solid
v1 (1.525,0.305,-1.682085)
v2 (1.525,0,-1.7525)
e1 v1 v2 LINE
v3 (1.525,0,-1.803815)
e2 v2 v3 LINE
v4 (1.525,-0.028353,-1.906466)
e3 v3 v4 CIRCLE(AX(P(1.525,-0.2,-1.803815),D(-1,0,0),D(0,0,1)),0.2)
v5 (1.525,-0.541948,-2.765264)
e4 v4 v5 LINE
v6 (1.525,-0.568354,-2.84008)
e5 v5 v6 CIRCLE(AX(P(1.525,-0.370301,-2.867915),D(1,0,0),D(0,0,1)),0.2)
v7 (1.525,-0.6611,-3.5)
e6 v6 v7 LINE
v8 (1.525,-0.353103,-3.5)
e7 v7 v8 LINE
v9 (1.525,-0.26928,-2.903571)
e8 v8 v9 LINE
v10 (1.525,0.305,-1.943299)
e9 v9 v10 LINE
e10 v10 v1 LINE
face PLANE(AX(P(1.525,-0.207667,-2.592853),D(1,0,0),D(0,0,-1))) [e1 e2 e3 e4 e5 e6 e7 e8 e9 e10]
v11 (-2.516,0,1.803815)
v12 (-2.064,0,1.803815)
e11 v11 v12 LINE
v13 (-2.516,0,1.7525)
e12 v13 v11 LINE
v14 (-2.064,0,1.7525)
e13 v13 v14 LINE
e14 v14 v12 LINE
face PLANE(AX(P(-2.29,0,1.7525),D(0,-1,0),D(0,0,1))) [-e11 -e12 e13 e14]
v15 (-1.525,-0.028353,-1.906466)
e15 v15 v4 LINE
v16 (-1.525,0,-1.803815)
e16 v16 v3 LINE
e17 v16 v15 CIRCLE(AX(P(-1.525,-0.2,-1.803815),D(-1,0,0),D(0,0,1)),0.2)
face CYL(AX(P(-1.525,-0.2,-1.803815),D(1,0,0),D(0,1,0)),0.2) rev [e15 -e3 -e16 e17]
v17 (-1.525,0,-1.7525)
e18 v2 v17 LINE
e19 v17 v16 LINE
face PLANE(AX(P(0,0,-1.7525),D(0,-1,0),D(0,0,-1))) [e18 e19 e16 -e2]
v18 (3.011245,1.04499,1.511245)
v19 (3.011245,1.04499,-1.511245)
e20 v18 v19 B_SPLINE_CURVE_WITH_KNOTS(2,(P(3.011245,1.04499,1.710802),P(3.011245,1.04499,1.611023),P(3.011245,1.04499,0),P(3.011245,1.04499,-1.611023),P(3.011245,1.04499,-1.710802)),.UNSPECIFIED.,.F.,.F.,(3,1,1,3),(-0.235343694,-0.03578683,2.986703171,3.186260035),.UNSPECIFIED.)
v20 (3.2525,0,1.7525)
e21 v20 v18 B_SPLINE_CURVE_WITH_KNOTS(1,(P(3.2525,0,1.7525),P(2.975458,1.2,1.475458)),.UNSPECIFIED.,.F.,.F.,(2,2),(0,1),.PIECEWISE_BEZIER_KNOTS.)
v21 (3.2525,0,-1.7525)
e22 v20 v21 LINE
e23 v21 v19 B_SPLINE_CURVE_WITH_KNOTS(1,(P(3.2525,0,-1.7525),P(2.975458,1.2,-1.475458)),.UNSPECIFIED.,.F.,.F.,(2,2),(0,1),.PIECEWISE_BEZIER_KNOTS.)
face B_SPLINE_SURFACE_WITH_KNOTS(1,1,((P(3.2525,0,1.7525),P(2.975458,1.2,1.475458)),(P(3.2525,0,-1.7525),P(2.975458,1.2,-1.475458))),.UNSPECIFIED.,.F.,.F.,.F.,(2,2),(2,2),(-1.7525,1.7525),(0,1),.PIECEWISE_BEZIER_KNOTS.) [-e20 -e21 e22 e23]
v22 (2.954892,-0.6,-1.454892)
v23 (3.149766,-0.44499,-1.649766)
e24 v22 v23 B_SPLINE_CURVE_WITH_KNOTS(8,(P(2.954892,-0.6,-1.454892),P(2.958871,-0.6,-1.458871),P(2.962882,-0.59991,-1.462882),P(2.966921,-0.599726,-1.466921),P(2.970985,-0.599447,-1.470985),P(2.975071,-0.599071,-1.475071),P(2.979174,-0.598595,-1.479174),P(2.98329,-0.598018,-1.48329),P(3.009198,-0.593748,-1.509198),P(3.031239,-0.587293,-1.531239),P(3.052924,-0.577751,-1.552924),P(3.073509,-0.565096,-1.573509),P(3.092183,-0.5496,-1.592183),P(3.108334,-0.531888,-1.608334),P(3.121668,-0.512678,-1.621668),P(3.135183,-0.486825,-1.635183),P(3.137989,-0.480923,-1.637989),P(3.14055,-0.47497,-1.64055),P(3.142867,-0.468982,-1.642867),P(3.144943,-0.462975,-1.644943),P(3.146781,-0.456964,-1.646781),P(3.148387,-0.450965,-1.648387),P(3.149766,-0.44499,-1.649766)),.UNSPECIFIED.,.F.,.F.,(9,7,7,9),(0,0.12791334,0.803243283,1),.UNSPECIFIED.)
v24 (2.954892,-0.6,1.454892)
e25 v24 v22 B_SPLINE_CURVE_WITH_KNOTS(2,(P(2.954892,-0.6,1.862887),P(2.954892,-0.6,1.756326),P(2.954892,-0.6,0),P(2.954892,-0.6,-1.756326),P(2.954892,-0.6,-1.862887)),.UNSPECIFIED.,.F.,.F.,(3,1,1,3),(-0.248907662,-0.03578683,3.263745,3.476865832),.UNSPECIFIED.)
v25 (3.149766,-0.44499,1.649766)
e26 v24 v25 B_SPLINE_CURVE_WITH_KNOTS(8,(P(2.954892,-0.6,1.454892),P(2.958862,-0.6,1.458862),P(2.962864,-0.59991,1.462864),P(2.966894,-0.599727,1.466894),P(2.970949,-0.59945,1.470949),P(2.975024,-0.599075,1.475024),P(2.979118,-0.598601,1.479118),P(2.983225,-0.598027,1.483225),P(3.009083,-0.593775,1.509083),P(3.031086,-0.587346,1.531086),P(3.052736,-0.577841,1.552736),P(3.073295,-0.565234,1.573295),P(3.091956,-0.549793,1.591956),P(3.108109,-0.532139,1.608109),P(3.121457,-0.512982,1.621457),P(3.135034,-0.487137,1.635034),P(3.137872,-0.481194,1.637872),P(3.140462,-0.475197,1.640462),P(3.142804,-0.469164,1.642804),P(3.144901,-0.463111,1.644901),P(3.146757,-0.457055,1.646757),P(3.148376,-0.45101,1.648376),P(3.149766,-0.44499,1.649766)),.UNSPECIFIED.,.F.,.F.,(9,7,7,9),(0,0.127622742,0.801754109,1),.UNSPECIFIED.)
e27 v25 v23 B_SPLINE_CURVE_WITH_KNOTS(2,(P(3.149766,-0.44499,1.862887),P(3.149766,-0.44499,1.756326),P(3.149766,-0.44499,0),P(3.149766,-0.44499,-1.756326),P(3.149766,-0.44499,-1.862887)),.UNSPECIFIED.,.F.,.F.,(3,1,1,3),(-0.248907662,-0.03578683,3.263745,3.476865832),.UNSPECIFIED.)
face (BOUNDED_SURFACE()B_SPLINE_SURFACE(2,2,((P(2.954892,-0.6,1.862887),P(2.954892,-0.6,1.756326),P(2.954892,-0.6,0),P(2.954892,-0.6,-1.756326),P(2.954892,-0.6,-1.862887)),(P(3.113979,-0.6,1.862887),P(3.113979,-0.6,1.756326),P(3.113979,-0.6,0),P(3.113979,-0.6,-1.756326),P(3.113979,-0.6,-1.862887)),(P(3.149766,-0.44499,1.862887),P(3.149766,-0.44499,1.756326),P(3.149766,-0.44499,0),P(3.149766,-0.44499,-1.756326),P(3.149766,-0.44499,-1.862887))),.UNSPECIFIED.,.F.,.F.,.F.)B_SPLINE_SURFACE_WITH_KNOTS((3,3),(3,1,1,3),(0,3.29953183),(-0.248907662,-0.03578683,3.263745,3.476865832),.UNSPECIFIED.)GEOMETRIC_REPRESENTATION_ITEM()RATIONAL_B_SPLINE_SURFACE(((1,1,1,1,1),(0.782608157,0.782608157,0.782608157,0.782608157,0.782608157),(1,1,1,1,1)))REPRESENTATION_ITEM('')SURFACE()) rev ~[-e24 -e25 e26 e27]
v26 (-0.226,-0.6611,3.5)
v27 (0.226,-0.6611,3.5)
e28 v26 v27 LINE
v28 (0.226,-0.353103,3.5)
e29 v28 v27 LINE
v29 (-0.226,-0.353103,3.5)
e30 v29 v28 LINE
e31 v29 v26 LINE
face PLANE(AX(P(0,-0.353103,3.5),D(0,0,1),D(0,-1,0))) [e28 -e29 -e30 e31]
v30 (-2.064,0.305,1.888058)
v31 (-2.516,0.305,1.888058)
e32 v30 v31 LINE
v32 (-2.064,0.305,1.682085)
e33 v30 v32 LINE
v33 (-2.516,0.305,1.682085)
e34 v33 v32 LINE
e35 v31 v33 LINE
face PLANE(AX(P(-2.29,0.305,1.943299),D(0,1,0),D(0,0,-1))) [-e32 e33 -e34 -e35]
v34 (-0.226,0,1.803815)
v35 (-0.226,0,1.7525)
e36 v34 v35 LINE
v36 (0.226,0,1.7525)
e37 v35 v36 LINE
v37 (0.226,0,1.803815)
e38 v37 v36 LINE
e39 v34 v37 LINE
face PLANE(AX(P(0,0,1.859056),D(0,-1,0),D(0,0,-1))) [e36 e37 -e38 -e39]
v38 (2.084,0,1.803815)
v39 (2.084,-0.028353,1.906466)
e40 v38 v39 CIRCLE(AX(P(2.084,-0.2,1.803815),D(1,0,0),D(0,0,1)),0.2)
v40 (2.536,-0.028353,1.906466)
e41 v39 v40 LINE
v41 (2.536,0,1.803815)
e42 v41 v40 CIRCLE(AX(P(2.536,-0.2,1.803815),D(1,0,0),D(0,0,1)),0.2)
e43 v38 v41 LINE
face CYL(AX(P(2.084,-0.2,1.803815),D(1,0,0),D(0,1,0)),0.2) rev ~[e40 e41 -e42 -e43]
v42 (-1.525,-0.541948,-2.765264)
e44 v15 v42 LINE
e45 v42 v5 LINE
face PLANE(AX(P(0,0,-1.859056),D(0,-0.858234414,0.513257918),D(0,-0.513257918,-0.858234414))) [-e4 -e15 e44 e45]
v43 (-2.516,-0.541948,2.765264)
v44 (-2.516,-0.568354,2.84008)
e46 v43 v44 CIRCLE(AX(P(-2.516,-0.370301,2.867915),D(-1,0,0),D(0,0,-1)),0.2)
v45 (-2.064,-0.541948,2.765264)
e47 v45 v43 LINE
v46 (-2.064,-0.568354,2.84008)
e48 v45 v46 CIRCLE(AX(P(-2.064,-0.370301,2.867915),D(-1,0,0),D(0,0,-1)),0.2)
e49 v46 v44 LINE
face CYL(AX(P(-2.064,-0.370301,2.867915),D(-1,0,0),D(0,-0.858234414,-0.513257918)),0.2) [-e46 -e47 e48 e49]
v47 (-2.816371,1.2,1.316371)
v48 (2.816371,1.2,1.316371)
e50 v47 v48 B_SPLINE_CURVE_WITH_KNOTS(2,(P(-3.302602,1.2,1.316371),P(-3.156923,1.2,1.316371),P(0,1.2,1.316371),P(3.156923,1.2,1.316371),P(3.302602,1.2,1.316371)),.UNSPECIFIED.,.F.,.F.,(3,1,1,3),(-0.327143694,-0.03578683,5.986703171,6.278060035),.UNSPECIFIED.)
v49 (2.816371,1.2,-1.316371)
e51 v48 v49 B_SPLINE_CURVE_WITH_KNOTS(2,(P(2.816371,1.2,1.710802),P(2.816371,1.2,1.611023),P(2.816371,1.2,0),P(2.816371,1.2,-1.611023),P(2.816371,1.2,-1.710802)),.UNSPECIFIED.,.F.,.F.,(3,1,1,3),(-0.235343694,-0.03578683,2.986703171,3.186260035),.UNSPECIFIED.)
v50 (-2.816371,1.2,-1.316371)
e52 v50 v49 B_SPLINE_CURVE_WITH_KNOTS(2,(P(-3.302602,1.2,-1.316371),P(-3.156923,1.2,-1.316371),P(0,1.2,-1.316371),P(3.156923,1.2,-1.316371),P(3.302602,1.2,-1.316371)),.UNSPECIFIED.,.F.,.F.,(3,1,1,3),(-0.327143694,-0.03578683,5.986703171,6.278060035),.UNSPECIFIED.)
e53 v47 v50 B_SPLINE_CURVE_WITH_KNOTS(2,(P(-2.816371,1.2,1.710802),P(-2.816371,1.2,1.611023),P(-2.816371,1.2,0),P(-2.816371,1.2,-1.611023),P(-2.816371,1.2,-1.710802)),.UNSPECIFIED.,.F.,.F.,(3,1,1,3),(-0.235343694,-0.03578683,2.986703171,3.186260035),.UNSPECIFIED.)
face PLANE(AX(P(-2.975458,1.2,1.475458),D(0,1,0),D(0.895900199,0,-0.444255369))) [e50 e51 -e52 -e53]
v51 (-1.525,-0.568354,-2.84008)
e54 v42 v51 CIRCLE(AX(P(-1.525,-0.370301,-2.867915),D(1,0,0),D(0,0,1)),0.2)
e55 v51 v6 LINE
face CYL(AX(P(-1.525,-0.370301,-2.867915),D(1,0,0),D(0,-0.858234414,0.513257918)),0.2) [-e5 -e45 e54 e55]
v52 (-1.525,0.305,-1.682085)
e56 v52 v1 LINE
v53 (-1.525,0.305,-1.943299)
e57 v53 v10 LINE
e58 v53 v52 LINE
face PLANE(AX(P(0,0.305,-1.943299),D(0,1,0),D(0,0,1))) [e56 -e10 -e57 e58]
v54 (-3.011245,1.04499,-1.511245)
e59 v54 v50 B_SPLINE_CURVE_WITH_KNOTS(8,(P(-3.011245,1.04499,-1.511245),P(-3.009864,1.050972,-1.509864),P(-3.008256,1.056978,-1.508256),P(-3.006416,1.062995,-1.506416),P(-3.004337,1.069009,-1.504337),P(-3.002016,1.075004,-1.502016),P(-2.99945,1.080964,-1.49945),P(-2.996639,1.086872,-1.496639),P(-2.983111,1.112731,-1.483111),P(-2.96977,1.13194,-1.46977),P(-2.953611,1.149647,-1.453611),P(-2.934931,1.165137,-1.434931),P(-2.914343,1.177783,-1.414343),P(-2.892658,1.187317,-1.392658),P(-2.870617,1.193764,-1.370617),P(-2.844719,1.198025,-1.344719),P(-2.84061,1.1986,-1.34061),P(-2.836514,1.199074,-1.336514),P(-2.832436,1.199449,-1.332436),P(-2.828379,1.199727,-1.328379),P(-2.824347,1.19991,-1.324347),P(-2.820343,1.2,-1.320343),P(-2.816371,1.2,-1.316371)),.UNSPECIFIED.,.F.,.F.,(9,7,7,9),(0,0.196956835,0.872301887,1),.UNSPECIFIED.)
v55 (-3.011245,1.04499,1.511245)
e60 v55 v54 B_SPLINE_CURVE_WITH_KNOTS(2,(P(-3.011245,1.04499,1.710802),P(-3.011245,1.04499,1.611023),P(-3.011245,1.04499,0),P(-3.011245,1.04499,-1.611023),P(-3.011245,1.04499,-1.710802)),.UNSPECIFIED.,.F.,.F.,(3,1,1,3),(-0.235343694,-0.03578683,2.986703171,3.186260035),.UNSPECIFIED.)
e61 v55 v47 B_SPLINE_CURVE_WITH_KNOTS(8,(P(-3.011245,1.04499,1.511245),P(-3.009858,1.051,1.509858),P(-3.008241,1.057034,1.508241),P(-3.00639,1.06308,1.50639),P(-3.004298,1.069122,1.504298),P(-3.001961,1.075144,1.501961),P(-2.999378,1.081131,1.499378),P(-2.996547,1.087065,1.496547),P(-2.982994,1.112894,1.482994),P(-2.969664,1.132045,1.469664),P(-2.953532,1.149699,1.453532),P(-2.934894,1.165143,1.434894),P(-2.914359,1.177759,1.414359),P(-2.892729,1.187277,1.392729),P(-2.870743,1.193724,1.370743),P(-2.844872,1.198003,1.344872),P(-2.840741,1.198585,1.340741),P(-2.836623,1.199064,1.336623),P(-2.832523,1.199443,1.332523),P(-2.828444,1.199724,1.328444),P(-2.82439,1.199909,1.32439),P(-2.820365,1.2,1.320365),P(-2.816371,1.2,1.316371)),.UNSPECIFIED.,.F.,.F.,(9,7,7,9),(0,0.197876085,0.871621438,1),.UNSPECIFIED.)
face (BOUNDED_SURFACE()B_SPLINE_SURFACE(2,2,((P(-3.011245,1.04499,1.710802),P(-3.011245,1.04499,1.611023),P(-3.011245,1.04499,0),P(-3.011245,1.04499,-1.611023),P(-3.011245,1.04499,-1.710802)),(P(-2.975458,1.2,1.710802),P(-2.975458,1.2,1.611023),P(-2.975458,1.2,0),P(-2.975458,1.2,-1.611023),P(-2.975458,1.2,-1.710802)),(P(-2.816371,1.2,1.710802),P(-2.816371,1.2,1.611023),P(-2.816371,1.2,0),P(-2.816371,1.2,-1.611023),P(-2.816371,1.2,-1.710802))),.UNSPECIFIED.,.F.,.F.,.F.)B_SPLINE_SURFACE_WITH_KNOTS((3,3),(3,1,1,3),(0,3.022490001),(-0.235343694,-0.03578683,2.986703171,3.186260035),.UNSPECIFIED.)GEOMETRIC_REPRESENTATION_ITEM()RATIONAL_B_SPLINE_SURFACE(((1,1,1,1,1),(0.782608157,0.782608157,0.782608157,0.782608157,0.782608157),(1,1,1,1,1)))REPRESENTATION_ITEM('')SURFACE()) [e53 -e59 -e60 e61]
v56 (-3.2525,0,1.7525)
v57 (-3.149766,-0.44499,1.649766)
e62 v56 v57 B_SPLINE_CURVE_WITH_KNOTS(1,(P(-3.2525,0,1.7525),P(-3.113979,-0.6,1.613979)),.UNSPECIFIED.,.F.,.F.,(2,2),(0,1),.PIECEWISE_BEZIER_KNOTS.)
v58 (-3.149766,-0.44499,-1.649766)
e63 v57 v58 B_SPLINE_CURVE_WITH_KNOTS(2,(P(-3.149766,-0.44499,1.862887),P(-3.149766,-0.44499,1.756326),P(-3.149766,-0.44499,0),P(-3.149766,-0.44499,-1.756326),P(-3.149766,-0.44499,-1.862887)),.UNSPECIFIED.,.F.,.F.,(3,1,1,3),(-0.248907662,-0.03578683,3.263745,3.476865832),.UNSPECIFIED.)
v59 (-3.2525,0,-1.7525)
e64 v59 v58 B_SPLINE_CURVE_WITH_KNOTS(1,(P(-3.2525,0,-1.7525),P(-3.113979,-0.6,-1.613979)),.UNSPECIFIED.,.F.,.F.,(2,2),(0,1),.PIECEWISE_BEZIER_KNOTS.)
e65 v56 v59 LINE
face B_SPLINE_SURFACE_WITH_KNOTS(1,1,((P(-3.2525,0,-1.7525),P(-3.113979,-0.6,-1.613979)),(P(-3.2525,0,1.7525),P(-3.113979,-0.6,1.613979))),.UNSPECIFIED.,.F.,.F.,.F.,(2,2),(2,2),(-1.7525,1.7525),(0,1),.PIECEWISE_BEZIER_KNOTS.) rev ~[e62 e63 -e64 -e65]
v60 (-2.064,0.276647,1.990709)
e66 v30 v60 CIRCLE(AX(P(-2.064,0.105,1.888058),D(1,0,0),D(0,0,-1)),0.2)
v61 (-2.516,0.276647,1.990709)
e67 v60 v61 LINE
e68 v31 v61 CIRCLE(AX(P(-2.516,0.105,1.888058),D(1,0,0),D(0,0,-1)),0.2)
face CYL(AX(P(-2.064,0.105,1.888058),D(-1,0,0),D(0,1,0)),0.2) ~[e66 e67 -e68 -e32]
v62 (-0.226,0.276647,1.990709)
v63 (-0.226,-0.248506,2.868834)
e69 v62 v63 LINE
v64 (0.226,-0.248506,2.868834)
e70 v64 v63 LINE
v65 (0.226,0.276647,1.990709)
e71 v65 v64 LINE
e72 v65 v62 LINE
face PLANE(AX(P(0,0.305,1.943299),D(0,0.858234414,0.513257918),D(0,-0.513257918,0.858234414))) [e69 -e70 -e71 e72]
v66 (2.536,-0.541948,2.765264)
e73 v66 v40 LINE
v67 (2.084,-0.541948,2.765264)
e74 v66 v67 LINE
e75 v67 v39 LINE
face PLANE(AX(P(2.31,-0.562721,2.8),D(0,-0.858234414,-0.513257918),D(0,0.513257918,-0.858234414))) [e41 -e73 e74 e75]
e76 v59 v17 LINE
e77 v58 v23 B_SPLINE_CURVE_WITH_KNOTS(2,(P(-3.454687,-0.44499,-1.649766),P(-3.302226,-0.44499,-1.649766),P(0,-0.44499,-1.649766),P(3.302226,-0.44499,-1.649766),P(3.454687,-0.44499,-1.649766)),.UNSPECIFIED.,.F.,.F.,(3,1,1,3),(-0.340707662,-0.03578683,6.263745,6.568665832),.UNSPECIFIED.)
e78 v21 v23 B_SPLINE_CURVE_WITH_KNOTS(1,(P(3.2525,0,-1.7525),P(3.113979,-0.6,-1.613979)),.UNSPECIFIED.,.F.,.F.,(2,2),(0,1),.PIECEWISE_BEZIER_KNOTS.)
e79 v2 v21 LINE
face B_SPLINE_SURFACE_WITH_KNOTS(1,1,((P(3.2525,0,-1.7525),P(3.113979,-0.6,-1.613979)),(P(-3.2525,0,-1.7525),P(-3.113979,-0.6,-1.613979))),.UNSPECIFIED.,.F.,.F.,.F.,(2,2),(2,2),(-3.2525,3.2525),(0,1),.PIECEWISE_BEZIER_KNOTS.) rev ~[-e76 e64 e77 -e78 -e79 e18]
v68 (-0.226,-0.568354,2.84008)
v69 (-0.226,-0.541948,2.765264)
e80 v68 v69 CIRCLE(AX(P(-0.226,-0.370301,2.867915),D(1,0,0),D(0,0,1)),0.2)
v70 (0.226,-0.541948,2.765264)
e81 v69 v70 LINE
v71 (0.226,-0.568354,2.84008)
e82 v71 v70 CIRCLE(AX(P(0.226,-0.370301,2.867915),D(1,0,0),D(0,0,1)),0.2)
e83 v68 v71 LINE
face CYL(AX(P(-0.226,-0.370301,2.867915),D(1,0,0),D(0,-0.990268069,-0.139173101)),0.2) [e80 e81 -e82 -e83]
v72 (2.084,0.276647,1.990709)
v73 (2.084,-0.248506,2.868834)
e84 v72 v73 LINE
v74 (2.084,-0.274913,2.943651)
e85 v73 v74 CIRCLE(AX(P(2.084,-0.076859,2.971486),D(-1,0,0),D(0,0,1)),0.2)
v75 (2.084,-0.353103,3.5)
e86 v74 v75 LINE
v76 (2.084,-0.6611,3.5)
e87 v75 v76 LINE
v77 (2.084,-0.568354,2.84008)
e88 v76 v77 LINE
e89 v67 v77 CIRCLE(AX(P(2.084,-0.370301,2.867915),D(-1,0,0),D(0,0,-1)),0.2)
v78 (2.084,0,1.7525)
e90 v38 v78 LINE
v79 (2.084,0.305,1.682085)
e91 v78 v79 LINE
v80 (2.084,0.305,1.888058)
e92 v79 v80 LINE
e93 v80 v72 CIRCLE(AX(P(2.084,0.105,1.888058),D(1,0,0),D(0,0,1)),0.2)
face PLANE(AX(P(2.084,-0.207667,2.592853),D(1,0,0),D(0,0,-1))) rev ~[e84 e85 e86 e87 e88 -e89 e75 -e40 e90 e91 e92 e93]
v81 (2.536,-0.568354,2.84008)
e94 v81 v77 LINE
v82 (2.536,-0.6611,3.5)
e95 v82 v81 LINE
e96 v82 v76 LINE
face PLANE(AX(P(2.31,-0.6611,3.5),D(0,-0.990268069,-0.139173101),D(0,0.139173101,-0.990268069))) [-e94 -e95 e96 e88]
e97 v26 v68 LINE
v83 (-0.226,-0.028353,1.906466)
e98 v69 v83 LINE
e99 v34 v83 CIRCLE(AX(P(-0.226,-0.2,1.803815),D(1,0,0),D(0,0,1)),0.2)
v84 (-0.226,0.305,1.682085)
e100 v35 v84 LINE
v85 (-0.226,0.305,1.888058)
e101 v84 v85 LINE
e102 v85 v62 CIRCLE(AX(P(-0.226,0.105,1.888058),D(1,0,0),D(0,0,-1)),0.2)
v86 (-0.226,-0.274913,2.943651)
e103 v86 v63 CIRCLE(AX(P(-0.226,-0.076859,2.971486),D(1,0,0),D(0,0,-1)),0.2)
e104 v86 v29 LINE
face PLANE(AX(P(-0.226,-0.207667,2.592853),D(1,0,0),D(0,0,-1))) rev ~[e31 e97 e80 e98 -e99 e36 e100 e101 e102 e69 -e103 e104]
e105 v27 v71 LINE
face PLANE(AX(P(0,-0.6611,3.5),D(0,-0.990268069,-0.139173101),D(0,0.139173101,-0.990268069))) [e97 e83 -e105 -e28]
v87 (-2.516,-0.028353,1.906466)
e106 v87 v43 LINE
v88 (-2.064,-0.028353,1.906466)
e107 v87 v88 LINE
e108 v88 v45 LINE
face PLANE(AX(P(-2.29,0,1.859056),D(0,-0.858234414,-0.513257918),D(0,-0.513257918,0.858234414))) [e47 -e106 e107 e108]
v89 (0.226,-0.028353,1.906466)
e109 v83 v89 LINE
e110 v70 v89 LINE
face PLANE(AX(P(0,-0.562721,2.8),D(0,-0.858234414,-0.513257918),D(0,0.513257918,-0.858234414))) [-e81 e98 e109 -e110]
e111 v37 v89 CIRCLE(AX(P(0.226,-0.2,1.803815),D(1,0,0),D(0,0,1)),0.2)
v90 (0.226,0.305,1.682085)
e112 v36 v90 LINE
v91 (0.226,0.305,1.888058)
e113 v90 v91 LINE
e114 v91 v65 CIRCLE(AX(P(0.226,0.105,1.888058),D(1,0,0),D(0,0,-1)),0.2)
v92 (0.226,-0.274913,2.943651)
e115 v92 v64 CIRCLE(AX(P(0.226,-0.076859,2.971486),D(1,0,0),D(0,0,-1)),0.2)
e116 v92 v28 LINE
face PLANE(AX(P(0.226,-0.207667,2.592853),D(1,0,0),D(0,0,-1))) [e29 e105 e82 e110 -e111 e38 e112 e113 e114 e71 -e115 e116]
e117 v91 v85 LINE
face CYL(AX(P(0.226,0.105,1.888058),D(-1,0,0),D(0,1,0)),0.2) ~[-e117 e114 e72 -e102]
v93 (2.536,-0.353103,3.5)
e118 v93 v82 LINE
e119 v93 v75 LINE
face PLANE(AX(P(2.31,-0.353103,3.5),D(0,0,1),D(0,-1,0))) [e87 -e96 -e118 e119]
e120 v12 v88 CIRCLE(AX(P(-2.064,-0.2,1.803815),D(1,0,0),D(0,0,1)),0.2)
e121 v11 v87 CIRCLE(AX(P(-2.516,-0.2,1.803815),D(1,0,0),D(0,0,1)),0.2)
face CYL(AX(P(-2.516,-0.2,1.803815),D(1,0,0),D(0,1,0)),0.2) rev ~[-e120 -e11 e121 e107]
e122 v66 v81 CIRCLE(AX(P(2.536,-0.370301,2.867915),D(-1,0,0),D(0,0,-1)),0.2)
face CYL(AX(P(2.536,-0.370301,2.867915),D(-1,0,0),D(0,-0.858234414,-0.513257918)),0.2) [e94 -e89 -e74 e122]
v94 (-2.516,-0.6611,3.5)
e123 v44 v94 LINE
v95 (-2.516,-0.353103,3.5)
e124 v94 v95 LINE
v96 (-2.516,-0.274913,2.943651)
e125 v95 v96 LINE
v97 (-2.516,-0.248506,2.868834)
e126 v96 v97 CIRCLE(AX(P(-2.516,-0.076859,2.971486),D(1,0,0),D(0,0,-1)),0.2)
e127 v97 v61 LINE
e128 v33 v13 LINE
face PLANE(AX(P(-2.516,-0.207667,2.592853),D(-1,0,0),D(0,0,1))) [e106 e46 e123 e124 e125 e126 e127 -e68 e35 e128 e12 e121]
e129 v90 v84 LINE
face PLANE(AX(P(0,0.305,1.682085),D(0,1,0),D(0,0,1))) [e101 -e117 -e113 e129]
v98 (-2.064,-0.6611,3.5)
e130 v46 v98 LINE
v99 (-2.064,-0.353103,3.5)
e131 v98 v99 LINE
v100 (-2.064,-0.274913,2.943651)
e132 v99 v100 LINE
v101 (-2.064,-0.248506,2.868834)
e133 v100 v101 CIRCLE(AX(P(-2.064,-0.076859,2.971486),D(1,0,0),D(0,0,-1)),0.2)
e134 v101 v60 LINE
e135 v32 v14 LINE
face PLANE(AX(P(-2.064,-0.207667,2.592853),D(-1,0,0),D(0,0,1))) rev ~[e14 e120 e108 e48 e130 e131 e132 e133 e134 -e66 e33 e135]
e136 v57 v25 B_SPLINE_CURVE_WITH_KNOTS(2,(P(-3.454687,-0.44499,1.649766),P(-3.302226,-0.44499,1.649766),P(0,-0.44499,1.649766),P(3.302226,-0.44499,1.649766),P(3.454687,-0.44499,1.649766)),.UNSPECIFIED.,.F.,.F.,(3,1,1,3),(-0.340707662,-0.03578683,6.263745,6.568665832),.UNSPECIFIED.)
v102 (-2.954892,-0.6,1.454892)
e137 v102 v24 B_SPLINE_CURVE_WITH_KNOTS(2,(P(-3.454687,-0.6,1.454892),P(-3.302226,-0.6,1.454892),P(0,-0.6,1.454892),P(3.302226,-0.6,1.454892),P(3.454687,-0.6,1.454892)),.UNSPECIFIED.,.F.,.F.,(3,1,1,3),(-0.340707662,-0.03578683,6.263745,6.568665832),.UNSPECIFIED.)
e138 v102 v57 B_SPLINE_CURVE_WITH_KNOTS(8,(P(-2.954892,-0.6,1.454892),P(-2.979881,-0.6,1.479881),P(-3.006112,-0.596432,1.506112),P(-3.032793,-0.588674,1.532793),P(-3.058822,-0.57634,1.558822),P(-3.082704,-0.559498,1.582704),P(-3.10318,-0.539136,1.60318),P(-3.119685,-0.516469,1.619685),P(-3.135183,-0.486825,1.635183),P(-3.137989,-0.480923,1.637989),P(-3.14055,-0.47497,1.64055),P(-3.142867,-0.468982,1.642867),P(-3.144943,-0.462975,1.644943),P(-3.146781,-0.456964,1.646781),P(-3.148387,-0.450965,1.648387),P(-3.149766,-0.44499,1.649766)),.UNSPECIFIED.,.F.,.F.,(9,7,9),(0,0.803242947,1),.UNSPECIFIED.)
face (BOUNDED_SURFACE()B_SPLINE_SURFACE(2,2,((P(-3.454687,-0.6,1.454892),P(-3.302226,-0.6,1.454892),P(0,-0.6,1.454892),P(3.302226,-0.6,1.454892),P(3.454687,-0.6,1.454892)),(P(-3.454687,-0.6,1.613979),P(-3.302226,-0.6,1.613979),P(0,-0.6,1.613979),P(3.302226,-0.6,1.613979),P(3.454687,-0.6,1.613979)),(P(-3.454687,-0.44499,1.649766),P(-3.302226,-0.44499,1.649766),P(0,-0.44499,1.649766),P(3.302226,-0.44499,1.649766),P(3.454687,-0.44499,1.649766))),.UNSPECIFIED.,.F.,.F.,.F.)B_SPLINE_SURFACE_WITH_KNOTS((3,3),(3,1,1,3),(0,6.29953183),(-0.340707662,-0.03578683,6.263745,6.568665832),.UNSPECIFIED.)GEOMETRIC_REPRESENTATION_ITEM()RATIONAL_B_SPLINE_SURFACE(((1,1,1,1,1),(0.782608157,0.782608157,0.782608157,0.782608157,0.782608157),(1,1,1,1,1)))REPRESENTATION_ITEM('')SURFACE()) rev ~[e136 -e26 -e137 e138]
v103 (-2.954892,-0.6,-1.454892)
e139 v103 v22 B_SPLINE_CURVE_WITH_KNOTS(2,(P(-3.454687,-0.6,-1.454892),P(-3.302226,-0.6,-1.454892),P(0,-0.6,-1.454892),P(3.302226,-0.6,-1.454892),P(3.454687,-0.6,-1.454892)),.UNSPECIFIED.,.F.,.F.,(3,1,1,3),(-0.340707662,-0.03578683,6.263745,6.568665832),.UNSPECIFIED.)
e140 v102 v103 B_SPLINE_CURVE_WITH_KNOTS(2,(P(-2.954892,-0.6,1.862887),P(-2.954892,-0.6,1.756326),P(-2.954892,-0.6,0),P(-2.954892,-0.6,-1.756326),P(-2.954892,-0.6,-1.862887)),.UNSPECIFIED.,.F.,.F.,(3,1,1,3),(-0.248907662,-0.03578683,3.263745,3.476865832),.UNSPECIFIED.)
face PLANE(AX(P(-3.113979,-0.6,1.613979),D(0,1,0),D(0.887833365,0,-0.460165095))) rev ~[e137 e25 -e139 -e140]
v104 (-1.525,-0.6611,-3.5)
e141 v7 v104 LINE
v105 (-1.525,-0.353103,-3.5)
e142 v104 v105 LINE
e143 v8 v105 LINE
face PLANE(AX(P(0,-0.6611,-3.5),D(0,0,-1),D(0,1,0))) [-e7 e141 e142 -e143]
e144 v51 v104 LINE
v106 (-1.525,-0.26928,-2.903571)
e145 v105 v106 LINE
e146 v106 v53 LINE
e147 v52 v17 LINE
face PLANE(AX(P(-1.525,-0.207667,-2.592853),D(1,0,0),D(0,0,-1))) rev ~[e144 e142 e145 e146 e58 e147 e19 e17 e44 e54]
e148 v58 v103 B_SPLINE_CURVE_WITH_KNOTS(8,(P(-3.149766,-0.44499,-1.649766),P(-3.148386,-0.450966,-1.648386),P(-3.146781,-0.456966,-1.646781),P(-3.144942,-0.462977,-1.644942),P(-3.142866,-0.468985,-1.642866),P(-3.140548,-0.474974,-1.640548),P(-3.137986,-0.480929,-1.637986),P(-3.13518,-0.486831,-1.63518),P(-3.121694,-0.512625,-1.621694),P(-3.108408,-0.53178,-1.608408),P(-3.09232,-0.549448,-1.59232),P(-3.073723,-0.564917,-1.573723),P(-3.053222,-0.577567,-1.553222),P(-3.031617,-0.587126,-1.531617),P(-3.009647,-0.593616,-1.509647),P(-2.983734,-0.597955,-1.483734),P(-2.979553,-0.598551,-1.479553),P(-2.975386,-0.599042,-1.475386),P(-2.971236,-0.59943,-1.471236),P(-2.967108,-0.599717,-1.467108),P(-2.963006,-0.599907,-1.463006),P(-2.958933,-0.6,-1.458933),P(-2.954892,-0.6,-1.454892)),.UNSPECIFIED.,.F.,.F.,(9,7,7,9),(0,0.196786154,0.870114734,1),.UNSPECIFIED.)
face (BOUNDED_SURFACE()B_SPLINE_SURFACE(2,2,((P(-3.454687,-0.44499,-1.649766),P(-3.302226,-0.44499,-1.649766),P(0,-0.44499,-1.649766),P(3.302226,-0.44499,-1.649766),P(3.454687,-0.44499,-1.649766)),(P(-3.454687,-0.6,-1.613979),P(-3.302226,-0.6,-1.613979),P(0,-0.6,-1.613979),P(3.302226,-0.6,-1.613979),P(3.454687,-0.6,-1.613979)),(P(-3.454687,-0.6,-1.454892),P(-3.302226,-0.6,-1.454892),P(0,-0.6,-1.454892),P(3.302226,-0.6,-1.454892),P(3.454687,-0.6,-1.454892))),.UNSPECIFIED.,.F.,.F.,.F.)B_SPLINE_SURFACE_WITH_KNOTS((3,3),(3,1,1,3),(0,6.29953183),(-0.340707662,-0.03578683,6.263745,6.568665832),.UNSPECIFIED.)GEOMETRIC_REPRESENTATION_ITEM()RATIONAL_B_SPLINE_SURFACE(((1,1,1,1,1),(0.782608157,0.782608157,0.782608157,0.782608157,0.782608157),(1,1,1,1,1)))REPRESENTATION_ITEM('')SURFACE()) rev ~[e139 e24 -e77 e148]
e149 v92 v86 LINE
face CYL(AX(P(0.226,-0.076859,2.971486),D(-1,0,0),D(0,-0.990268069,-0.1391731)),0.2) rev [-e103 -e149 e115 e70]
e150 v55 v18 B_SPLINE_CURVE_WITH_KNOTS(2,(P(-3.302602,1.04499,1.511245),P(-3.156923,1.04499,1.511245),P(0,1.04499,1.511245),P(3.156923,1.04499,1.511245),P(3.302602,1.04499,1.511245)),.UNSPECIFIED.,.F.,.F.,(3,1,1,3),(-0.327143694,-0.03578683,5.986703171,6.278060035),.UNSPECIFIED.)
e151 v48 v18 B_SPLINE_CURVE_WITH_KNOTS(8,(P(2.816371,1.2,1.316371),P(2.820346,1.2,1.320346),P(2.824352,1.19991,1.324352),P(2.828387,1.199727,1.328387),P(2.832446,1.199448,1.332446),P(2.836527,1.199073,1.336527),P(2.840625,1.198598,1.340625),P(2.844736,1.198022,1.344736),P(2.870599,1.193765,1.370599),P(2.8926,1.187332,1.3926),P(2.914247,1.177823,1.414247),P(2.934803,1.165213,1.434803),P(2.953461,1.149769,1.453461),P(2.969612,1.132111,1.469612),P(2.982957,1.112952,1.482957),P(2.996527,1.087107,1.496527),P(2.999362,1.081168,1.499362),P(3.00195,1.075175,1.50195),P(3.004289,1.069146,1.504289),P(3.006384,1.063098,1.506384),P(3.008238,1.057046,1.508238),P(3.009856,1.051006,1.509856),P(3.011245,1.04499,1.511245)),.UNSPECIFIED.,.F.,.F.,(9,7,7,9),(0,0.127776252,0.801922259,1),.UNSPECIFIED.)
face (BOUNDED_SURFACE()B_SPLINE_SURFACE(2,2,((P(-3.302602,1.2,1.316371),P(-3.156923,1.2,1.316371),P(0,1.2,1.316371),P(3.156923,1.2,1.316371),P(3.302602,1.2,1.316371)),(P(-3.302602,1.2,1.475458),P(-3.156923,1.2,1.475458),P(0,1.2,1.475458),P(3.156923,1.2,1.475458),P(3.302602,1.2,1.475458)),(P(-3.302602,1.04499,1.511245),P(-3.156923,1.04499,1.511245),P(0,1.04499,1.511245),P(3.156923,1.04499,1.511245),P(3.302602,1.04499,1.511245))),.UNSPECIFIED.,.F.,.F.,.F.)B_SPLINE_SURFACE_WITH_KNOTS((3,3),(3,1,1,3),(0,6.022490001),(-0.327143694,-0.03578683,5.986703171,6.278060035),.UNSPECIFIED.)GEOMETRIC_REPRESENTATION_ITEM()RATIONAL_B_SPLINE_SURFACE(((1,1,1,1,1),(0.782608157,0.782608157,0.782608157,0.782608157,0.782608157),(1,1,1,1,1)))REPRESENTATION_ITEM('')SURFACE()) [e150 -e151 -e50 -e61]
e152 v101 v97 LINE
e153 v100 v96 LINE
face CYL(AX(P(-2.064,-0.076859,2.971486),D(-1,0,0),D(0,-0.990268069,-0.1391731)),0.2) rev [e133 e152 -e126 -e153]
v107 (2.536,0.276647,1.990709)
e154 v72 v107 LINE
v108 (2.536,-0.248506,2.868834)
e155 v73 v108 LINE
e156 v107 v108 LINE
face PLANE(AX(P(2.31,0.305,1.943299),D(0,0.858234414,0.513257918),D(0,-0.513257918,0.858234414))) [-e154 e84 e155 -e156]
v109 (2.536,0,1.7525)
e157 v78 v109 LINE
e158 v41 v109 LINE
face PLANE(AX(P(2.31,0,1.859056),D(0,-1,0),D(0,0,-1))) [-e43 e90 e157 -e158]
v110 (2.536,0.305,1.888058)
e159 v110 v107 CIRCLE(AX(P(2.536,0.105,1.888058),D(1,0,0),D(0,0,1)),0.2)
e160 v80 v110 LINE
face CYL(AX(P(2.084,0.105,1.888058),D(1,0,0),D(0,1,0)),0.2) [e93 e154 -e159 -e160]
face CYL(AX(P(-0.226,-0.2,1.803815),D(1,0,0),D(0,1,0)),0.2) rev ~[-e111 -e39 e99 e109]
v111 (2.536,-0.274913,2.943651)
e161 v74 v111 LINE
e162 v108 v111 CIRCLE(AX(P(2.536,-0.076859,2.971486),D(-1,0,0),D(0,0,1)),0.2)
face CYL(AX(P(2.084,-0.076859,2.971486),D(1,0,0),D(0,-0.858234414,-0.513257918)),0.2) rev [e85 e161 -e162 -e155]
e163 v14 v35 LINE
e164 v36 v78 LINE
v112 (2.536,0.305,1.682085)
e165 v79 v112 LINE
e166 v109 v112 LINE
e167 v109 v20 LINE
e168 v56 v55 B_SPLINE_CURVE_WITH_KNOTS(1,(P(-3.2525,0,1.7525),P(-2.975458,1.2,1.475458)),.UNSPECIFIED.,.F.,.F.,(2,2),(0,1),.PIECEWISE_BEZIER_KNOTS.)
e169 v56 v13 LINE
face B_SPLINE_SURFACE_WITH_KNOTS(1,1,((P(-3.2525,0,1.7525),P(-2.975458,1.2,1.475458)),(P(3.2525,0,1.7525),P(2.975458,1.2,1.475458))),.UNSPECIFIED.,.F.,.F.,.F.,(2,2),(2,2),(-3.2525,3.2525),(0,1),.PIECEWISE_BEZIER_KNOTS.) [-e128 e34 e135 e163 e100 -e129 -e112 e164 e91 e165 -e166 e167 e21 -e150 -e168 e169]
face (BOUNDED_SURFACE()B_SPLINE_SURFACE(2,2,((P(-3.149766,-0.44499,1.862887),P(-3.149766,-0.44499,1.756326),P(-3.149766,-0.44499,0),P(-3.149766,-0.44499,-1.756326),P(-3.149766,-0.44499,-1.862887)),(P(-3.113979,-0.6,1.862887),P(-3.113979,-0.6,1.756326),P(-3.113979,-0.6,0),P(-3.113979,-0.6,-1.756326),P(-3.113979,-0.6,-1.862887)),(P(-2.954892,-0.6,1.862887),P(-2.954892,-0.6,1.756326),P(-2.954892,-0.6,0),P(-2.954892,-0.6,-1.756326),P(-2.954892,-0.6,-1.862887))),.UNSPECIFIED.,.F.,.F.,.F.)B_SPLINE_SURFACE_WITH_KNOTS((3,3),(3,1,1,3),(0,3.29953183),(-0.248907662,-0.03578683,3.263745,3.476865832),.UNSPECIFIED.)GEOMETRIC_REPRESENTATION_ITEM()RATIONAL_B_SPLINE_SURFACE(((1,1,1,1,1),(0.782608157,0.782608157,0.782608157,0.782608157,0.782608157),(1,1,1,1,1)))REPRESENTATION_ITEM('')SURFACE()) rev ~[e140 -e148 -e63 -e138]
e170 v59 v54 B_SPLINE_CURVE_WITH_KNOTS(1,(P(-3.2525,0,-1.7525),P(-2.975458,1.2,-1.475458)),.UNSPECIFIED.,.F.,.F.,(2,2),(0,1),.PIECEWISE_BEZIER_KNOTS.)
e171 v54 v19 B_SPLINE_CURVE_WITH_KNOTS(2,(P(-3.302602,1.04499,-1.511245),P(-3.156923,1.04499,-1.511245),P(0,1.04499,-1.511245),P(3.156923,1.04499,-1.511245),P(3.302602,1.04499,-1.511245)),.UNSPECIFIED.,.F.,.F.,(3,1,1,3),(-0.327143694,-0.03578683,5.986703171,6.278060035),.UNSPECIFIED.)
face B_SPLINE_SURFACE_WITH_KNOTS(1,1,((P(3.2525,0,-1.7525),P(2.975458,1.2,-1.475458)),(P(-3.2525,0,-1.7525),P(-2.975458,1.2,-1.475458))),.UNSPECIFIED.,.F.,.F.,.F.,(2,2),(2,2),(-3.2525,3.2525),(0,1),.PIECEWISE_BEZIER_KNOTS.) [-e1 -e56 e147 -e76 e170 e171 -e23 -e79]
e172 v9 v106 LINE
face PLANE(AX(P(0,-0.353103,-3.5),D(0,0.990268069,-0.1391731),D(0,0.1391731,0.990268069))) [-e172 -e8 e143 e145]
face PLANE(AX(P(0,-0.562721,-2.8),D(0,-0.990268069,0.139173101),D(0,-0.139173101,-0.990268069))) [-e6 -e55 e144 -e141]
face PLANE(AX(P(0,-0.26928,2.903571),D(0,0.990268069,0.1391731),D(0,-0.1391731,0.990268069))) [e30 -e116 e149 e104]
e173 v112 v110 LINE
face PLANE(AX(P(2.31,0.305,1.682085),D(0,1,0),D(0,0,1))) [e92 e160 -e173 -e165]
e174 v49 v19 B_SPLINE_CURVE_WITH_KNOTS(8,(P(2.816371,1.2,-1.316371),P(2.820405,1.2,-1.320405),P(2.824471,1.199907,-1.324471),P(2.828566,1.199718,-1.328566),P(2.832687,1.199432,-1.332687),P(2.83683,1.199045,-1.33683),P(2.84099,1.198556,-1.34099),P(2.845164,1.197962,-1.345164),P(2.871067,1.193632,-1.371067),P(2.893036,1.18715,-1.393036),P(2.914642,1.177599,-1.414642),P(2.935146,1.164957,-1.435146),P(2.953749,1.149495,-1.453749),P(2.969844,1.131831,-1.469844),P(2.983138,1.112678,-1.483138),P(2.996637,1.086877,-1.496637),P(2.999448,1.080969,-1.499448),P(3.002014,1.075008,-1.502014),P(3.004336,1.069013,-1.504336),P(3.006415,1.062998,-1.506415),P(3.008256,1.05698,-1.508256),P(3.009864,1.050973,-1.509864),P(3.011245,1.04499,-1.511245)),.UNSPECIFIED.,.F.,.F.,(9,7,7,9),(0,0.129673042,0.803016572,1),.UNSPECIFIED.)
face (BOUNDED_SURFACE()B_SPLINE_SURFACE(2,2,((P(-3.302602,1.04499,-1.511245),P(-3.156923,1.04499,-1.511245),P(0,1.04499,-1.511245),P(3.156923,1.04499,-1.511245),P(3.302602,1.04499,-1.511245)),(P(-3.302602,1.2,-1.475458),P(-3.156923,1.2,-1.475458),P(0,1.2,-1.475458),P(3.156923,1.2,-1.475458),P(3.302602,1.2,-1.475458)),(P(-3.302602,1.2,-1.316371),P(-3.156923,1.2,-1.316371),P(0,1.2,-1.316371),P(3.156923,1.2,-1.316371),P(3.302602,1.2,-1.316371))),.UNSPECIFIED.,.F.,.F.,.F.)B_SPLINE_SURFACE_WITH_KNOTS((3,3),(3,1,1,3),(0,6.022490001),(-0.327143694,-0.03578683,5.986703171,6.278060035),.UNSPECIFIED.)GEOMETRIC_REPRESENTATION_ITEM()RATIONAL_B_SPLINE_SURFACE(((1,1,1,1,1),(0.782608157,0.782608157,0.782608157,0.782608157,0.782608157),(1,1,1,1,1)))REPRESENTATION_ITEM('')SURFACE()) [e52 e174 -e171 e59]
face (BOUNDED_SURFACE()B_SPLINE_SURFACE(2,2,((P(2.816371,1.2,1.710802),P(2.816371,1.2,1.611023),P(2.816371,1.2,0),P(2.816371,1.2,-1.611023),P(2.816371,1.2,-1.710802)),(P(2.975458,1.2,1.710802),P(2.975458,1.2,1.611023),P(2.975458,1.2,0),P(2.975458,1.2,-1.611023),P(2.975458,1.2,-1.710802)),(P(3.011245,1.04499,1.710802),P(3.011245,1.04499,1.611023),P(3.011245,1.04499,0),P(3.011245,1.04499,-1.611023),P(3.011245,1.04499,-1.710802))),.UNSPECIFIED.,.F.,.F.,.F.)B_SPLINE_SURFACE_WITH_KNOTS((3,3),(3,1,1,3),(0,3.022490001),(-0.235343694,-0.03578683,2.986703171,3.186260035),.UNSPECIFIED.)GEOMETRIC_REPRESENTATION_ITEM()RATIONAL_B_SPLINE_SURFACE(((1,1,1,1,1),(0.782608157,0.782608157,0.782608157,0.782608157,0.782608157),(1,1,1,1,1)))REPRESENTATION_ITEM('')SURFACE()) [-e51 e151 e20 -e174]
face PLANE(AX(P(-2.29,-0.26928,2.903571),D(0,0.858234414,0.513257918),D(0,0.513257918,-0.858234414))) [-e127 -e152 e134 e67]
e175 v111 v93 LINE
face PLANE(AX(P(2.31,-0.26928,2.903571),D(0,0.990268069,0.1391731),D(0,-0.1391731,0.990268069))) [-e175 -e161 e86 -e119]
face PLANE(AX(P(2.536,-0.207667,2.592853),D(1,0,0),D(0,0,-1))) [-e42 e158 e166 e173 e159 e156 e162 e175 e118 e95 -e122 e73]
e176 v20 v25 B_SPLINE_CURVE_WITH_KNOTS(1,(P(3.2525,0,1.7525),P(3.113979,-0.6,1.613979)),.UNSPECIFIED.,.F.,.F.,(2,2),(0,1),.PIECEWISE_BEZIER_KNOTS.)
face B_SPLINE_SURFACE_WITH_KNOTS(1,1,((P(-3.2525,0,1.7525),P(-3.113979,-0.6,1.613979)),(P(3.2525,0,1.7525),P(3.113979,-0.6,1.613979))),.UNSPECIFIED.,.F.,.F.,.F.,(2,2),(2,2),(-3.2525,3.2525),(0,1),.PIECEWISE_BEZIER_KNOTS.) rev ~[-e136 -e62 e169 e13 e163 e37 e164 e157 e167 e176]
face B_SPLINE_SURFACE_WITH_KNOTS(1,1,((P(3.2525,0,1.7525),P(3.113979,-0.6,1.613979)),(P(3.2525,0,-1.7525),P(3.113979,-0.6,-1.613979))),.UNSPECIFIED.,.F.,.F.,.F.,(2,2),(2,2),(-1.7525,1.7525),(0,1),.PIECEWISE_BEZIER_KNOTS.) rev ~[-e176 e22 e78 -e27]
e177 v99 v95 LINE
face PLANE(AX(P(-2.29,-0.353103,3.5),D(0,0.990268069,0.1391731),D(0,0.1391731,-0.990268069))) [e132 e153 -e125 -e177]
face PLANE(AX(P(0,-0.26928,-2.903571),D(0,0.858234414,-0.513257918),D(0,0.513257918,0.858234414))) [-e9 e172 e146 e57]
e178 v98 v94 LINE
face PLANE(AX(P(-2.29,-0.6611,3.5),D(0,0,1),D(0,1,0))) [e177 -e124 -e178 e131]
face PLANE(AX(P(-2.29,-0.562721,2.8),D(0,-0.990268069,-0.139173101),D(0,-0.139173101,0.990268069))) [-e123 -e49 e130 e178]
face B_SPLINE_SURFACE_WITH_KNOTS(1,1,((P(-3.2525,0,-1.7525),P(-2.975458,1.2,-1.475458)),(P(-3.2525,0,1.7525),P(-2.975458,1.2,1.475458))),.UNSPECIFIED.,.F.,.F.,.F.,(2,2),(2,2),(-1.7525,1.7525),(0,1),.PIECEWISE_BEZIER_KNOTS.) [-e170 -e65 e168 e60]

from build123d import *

# Parameters (mm, degrees)
SKETCH5_W           = 6.505
SKETCH5_H           = 3.505
BOSS_EXTRUDE1_DEPTH = 1.2
BOSS_EXTRUDE1_TAPER = 13
SKETCH5_2_W         = 6.505
SKETCH5_2_H         = 3.505
BOSS_EXTRUDE2_DEPTH = 0.6
BOSS_EXTRUDE2_TAPER = 13
BOSS_EXTRUDE3_DEPTH = 0.226
BOSS_EXTRUDE4_DEPTH = 1.525
BOSS_EXTRUDE5_DEPTH = 0.226
BOSS_EXTRUDE6_DEPTH = 0.226
FILLET1_R           = 0.2
FILLET2_R           = 0.2


with BuildPart() as part:
    # Sketch5 → Boss-Extrude1 (new body)
    with BuildSketch(Plane(origin=(0, 0, 0), x_dir=(1, 0, 0), z_dir=(0, 1, 0))):
        Rectangle(SKETCH5_W, SKETCH5_H)
    extrude(amount=BOSS_EXTRUDE1_DEPTH, taper=BOSS_EXTRUDE1_TAPER)

    # Sketch5_2 → Boss-Extrude2 (add)
    with BuildSketch(Plane(origin=(0, 0, 0), x_dir=(1, 0, 0), z_dir=(0, 1, 0))):
        Rectangle(SKETCH5_2_W, SKETCH5_2_H)
    extrude(amount=-BOSS_EXTRUDE2_DEPTH, taper=BOSS_EXTRUDE2_TAPER)

    # Sketch6 → Boss-Extrude3 (add, symmetric)
    with BuildSketch(Plane(origin=(0, 0, 0), x_dir=(0, 0, -1), z_dir=(1, 0, 0))):
        Polygon((-2.903570514, -0.269279893), (-3.5, -0.35310259), (-3.5, -0.6611), (-2.8, -0.562721416), (-1.859056144, 0), (-1.7525, 0), (-1.682085202, 0.305), (-1.943299372, 0.305), align=None)
    boss_extrude3 = extrude(amount=BOSS_EXTRUDE3_DEPTH, both=True)

    # Mirror1: Boss-Extrude3 across plane
    add(boss_extrude3.mirror(Plane.XY))

    # Sketch7 → Boss-Extrude4 (add, symmetric)
    with BuildSketch(Plane(origin=(0, 0, 0), x_dir=(0, 0, -1), z_dir=(1, 0, 0))):
        Polygon((2.903570514, -0.269279893), (1.943299372, 0.305), (1.682085202, 0.305), (1.7525, 0), (1.859056144, 0), (2.8, -0.562721416), (3.5, -0.6611), (3.5, -0.35310259), align=None)
    extrude(amount=BOSS_EXTRUDE4_DEPTH, both=True)

    # Sketch8 → Boss-Extrude5 (add, symmetric)
    with BuildSketch(Plane.ZY.offset(2.29)):
        Polygon((1.859056144, 0), (2.8, -0.562721416), (3.5, -0.6611), (3.5, -0.35310259), (2.903570514, -0.269279893), (1.943299372, 0.305), (1.682085202, 0.305), (1.7525, 0), align=None)
    extrude(amount=BOSS_EXTRUDE5_DEPTH, both=True)

    # Sketch9 → Boss-Extrude6 (add, symmetric)
    with BuildSketch(Plane(origin=(2.31, 0, 0), x_dir=(0, 0, -1), z_dir=(1, 0, 0))):
        Polygon((-2.8, -0.562721416), (-1.859056144, 0), (-1.7525, 0), (-1.682085202, 0.305), (-1.943299372, 0.305), (-2.903570514, -0.269279893), (-3.5, -0.35310259), (-3.5, -0.6611), align=None)
    extrude(amount=BOSS_EXTRUDE6_DEPTH, both=True)

    # Fillet1
    fillet1_edges = [part.edges().sort_by_distance(p)[0] for p in [
        (-2.975458171, 1.2, 0),
        (0, 1.2, 1.475458171),
        (3.113979085, -0.6, 0),
        (0, -0.6, 1.613979085),
        (-3.113979085, -0.6, 0),
        (0, -0.6, -1.613979085),
        (2.975458171, 1.2, 0),
        (0, 1.2, -1.475458171),
    ]]
    fillet(fillet1_edges, radius=FILLET1_R)

    # Fillet2
    fillet2_edges = [part.edges().sort_by_distance(p)[0] for p in [
        (0, -0.562721416, -2.8),
        (0, 0, -1.859056144),
        (-2.29, -0.562721416, 2.8),
        (-2.29, 0, 1.859056144),
        (0, -0.562721416, 2.8),
        (0, 0, 1.859056144),
        (2.31, -0.562721416, 2.8),
        (2.31, 0, 1.859056144),
        (-2.29, 0.305, 1.943299372),
        (-2.29, -0.269279893, 2.903570514),
        (0, 0.305, 1.943299372),
        (0, -0.269279893, 2.903570514),
        (2.31, -0.269279893, 2.903570514),
        (2.31, 0.305, 1.943299372),
    ]]
    fillet(fillet2_edges, radius=FILLET2_R)


solid = part.part
